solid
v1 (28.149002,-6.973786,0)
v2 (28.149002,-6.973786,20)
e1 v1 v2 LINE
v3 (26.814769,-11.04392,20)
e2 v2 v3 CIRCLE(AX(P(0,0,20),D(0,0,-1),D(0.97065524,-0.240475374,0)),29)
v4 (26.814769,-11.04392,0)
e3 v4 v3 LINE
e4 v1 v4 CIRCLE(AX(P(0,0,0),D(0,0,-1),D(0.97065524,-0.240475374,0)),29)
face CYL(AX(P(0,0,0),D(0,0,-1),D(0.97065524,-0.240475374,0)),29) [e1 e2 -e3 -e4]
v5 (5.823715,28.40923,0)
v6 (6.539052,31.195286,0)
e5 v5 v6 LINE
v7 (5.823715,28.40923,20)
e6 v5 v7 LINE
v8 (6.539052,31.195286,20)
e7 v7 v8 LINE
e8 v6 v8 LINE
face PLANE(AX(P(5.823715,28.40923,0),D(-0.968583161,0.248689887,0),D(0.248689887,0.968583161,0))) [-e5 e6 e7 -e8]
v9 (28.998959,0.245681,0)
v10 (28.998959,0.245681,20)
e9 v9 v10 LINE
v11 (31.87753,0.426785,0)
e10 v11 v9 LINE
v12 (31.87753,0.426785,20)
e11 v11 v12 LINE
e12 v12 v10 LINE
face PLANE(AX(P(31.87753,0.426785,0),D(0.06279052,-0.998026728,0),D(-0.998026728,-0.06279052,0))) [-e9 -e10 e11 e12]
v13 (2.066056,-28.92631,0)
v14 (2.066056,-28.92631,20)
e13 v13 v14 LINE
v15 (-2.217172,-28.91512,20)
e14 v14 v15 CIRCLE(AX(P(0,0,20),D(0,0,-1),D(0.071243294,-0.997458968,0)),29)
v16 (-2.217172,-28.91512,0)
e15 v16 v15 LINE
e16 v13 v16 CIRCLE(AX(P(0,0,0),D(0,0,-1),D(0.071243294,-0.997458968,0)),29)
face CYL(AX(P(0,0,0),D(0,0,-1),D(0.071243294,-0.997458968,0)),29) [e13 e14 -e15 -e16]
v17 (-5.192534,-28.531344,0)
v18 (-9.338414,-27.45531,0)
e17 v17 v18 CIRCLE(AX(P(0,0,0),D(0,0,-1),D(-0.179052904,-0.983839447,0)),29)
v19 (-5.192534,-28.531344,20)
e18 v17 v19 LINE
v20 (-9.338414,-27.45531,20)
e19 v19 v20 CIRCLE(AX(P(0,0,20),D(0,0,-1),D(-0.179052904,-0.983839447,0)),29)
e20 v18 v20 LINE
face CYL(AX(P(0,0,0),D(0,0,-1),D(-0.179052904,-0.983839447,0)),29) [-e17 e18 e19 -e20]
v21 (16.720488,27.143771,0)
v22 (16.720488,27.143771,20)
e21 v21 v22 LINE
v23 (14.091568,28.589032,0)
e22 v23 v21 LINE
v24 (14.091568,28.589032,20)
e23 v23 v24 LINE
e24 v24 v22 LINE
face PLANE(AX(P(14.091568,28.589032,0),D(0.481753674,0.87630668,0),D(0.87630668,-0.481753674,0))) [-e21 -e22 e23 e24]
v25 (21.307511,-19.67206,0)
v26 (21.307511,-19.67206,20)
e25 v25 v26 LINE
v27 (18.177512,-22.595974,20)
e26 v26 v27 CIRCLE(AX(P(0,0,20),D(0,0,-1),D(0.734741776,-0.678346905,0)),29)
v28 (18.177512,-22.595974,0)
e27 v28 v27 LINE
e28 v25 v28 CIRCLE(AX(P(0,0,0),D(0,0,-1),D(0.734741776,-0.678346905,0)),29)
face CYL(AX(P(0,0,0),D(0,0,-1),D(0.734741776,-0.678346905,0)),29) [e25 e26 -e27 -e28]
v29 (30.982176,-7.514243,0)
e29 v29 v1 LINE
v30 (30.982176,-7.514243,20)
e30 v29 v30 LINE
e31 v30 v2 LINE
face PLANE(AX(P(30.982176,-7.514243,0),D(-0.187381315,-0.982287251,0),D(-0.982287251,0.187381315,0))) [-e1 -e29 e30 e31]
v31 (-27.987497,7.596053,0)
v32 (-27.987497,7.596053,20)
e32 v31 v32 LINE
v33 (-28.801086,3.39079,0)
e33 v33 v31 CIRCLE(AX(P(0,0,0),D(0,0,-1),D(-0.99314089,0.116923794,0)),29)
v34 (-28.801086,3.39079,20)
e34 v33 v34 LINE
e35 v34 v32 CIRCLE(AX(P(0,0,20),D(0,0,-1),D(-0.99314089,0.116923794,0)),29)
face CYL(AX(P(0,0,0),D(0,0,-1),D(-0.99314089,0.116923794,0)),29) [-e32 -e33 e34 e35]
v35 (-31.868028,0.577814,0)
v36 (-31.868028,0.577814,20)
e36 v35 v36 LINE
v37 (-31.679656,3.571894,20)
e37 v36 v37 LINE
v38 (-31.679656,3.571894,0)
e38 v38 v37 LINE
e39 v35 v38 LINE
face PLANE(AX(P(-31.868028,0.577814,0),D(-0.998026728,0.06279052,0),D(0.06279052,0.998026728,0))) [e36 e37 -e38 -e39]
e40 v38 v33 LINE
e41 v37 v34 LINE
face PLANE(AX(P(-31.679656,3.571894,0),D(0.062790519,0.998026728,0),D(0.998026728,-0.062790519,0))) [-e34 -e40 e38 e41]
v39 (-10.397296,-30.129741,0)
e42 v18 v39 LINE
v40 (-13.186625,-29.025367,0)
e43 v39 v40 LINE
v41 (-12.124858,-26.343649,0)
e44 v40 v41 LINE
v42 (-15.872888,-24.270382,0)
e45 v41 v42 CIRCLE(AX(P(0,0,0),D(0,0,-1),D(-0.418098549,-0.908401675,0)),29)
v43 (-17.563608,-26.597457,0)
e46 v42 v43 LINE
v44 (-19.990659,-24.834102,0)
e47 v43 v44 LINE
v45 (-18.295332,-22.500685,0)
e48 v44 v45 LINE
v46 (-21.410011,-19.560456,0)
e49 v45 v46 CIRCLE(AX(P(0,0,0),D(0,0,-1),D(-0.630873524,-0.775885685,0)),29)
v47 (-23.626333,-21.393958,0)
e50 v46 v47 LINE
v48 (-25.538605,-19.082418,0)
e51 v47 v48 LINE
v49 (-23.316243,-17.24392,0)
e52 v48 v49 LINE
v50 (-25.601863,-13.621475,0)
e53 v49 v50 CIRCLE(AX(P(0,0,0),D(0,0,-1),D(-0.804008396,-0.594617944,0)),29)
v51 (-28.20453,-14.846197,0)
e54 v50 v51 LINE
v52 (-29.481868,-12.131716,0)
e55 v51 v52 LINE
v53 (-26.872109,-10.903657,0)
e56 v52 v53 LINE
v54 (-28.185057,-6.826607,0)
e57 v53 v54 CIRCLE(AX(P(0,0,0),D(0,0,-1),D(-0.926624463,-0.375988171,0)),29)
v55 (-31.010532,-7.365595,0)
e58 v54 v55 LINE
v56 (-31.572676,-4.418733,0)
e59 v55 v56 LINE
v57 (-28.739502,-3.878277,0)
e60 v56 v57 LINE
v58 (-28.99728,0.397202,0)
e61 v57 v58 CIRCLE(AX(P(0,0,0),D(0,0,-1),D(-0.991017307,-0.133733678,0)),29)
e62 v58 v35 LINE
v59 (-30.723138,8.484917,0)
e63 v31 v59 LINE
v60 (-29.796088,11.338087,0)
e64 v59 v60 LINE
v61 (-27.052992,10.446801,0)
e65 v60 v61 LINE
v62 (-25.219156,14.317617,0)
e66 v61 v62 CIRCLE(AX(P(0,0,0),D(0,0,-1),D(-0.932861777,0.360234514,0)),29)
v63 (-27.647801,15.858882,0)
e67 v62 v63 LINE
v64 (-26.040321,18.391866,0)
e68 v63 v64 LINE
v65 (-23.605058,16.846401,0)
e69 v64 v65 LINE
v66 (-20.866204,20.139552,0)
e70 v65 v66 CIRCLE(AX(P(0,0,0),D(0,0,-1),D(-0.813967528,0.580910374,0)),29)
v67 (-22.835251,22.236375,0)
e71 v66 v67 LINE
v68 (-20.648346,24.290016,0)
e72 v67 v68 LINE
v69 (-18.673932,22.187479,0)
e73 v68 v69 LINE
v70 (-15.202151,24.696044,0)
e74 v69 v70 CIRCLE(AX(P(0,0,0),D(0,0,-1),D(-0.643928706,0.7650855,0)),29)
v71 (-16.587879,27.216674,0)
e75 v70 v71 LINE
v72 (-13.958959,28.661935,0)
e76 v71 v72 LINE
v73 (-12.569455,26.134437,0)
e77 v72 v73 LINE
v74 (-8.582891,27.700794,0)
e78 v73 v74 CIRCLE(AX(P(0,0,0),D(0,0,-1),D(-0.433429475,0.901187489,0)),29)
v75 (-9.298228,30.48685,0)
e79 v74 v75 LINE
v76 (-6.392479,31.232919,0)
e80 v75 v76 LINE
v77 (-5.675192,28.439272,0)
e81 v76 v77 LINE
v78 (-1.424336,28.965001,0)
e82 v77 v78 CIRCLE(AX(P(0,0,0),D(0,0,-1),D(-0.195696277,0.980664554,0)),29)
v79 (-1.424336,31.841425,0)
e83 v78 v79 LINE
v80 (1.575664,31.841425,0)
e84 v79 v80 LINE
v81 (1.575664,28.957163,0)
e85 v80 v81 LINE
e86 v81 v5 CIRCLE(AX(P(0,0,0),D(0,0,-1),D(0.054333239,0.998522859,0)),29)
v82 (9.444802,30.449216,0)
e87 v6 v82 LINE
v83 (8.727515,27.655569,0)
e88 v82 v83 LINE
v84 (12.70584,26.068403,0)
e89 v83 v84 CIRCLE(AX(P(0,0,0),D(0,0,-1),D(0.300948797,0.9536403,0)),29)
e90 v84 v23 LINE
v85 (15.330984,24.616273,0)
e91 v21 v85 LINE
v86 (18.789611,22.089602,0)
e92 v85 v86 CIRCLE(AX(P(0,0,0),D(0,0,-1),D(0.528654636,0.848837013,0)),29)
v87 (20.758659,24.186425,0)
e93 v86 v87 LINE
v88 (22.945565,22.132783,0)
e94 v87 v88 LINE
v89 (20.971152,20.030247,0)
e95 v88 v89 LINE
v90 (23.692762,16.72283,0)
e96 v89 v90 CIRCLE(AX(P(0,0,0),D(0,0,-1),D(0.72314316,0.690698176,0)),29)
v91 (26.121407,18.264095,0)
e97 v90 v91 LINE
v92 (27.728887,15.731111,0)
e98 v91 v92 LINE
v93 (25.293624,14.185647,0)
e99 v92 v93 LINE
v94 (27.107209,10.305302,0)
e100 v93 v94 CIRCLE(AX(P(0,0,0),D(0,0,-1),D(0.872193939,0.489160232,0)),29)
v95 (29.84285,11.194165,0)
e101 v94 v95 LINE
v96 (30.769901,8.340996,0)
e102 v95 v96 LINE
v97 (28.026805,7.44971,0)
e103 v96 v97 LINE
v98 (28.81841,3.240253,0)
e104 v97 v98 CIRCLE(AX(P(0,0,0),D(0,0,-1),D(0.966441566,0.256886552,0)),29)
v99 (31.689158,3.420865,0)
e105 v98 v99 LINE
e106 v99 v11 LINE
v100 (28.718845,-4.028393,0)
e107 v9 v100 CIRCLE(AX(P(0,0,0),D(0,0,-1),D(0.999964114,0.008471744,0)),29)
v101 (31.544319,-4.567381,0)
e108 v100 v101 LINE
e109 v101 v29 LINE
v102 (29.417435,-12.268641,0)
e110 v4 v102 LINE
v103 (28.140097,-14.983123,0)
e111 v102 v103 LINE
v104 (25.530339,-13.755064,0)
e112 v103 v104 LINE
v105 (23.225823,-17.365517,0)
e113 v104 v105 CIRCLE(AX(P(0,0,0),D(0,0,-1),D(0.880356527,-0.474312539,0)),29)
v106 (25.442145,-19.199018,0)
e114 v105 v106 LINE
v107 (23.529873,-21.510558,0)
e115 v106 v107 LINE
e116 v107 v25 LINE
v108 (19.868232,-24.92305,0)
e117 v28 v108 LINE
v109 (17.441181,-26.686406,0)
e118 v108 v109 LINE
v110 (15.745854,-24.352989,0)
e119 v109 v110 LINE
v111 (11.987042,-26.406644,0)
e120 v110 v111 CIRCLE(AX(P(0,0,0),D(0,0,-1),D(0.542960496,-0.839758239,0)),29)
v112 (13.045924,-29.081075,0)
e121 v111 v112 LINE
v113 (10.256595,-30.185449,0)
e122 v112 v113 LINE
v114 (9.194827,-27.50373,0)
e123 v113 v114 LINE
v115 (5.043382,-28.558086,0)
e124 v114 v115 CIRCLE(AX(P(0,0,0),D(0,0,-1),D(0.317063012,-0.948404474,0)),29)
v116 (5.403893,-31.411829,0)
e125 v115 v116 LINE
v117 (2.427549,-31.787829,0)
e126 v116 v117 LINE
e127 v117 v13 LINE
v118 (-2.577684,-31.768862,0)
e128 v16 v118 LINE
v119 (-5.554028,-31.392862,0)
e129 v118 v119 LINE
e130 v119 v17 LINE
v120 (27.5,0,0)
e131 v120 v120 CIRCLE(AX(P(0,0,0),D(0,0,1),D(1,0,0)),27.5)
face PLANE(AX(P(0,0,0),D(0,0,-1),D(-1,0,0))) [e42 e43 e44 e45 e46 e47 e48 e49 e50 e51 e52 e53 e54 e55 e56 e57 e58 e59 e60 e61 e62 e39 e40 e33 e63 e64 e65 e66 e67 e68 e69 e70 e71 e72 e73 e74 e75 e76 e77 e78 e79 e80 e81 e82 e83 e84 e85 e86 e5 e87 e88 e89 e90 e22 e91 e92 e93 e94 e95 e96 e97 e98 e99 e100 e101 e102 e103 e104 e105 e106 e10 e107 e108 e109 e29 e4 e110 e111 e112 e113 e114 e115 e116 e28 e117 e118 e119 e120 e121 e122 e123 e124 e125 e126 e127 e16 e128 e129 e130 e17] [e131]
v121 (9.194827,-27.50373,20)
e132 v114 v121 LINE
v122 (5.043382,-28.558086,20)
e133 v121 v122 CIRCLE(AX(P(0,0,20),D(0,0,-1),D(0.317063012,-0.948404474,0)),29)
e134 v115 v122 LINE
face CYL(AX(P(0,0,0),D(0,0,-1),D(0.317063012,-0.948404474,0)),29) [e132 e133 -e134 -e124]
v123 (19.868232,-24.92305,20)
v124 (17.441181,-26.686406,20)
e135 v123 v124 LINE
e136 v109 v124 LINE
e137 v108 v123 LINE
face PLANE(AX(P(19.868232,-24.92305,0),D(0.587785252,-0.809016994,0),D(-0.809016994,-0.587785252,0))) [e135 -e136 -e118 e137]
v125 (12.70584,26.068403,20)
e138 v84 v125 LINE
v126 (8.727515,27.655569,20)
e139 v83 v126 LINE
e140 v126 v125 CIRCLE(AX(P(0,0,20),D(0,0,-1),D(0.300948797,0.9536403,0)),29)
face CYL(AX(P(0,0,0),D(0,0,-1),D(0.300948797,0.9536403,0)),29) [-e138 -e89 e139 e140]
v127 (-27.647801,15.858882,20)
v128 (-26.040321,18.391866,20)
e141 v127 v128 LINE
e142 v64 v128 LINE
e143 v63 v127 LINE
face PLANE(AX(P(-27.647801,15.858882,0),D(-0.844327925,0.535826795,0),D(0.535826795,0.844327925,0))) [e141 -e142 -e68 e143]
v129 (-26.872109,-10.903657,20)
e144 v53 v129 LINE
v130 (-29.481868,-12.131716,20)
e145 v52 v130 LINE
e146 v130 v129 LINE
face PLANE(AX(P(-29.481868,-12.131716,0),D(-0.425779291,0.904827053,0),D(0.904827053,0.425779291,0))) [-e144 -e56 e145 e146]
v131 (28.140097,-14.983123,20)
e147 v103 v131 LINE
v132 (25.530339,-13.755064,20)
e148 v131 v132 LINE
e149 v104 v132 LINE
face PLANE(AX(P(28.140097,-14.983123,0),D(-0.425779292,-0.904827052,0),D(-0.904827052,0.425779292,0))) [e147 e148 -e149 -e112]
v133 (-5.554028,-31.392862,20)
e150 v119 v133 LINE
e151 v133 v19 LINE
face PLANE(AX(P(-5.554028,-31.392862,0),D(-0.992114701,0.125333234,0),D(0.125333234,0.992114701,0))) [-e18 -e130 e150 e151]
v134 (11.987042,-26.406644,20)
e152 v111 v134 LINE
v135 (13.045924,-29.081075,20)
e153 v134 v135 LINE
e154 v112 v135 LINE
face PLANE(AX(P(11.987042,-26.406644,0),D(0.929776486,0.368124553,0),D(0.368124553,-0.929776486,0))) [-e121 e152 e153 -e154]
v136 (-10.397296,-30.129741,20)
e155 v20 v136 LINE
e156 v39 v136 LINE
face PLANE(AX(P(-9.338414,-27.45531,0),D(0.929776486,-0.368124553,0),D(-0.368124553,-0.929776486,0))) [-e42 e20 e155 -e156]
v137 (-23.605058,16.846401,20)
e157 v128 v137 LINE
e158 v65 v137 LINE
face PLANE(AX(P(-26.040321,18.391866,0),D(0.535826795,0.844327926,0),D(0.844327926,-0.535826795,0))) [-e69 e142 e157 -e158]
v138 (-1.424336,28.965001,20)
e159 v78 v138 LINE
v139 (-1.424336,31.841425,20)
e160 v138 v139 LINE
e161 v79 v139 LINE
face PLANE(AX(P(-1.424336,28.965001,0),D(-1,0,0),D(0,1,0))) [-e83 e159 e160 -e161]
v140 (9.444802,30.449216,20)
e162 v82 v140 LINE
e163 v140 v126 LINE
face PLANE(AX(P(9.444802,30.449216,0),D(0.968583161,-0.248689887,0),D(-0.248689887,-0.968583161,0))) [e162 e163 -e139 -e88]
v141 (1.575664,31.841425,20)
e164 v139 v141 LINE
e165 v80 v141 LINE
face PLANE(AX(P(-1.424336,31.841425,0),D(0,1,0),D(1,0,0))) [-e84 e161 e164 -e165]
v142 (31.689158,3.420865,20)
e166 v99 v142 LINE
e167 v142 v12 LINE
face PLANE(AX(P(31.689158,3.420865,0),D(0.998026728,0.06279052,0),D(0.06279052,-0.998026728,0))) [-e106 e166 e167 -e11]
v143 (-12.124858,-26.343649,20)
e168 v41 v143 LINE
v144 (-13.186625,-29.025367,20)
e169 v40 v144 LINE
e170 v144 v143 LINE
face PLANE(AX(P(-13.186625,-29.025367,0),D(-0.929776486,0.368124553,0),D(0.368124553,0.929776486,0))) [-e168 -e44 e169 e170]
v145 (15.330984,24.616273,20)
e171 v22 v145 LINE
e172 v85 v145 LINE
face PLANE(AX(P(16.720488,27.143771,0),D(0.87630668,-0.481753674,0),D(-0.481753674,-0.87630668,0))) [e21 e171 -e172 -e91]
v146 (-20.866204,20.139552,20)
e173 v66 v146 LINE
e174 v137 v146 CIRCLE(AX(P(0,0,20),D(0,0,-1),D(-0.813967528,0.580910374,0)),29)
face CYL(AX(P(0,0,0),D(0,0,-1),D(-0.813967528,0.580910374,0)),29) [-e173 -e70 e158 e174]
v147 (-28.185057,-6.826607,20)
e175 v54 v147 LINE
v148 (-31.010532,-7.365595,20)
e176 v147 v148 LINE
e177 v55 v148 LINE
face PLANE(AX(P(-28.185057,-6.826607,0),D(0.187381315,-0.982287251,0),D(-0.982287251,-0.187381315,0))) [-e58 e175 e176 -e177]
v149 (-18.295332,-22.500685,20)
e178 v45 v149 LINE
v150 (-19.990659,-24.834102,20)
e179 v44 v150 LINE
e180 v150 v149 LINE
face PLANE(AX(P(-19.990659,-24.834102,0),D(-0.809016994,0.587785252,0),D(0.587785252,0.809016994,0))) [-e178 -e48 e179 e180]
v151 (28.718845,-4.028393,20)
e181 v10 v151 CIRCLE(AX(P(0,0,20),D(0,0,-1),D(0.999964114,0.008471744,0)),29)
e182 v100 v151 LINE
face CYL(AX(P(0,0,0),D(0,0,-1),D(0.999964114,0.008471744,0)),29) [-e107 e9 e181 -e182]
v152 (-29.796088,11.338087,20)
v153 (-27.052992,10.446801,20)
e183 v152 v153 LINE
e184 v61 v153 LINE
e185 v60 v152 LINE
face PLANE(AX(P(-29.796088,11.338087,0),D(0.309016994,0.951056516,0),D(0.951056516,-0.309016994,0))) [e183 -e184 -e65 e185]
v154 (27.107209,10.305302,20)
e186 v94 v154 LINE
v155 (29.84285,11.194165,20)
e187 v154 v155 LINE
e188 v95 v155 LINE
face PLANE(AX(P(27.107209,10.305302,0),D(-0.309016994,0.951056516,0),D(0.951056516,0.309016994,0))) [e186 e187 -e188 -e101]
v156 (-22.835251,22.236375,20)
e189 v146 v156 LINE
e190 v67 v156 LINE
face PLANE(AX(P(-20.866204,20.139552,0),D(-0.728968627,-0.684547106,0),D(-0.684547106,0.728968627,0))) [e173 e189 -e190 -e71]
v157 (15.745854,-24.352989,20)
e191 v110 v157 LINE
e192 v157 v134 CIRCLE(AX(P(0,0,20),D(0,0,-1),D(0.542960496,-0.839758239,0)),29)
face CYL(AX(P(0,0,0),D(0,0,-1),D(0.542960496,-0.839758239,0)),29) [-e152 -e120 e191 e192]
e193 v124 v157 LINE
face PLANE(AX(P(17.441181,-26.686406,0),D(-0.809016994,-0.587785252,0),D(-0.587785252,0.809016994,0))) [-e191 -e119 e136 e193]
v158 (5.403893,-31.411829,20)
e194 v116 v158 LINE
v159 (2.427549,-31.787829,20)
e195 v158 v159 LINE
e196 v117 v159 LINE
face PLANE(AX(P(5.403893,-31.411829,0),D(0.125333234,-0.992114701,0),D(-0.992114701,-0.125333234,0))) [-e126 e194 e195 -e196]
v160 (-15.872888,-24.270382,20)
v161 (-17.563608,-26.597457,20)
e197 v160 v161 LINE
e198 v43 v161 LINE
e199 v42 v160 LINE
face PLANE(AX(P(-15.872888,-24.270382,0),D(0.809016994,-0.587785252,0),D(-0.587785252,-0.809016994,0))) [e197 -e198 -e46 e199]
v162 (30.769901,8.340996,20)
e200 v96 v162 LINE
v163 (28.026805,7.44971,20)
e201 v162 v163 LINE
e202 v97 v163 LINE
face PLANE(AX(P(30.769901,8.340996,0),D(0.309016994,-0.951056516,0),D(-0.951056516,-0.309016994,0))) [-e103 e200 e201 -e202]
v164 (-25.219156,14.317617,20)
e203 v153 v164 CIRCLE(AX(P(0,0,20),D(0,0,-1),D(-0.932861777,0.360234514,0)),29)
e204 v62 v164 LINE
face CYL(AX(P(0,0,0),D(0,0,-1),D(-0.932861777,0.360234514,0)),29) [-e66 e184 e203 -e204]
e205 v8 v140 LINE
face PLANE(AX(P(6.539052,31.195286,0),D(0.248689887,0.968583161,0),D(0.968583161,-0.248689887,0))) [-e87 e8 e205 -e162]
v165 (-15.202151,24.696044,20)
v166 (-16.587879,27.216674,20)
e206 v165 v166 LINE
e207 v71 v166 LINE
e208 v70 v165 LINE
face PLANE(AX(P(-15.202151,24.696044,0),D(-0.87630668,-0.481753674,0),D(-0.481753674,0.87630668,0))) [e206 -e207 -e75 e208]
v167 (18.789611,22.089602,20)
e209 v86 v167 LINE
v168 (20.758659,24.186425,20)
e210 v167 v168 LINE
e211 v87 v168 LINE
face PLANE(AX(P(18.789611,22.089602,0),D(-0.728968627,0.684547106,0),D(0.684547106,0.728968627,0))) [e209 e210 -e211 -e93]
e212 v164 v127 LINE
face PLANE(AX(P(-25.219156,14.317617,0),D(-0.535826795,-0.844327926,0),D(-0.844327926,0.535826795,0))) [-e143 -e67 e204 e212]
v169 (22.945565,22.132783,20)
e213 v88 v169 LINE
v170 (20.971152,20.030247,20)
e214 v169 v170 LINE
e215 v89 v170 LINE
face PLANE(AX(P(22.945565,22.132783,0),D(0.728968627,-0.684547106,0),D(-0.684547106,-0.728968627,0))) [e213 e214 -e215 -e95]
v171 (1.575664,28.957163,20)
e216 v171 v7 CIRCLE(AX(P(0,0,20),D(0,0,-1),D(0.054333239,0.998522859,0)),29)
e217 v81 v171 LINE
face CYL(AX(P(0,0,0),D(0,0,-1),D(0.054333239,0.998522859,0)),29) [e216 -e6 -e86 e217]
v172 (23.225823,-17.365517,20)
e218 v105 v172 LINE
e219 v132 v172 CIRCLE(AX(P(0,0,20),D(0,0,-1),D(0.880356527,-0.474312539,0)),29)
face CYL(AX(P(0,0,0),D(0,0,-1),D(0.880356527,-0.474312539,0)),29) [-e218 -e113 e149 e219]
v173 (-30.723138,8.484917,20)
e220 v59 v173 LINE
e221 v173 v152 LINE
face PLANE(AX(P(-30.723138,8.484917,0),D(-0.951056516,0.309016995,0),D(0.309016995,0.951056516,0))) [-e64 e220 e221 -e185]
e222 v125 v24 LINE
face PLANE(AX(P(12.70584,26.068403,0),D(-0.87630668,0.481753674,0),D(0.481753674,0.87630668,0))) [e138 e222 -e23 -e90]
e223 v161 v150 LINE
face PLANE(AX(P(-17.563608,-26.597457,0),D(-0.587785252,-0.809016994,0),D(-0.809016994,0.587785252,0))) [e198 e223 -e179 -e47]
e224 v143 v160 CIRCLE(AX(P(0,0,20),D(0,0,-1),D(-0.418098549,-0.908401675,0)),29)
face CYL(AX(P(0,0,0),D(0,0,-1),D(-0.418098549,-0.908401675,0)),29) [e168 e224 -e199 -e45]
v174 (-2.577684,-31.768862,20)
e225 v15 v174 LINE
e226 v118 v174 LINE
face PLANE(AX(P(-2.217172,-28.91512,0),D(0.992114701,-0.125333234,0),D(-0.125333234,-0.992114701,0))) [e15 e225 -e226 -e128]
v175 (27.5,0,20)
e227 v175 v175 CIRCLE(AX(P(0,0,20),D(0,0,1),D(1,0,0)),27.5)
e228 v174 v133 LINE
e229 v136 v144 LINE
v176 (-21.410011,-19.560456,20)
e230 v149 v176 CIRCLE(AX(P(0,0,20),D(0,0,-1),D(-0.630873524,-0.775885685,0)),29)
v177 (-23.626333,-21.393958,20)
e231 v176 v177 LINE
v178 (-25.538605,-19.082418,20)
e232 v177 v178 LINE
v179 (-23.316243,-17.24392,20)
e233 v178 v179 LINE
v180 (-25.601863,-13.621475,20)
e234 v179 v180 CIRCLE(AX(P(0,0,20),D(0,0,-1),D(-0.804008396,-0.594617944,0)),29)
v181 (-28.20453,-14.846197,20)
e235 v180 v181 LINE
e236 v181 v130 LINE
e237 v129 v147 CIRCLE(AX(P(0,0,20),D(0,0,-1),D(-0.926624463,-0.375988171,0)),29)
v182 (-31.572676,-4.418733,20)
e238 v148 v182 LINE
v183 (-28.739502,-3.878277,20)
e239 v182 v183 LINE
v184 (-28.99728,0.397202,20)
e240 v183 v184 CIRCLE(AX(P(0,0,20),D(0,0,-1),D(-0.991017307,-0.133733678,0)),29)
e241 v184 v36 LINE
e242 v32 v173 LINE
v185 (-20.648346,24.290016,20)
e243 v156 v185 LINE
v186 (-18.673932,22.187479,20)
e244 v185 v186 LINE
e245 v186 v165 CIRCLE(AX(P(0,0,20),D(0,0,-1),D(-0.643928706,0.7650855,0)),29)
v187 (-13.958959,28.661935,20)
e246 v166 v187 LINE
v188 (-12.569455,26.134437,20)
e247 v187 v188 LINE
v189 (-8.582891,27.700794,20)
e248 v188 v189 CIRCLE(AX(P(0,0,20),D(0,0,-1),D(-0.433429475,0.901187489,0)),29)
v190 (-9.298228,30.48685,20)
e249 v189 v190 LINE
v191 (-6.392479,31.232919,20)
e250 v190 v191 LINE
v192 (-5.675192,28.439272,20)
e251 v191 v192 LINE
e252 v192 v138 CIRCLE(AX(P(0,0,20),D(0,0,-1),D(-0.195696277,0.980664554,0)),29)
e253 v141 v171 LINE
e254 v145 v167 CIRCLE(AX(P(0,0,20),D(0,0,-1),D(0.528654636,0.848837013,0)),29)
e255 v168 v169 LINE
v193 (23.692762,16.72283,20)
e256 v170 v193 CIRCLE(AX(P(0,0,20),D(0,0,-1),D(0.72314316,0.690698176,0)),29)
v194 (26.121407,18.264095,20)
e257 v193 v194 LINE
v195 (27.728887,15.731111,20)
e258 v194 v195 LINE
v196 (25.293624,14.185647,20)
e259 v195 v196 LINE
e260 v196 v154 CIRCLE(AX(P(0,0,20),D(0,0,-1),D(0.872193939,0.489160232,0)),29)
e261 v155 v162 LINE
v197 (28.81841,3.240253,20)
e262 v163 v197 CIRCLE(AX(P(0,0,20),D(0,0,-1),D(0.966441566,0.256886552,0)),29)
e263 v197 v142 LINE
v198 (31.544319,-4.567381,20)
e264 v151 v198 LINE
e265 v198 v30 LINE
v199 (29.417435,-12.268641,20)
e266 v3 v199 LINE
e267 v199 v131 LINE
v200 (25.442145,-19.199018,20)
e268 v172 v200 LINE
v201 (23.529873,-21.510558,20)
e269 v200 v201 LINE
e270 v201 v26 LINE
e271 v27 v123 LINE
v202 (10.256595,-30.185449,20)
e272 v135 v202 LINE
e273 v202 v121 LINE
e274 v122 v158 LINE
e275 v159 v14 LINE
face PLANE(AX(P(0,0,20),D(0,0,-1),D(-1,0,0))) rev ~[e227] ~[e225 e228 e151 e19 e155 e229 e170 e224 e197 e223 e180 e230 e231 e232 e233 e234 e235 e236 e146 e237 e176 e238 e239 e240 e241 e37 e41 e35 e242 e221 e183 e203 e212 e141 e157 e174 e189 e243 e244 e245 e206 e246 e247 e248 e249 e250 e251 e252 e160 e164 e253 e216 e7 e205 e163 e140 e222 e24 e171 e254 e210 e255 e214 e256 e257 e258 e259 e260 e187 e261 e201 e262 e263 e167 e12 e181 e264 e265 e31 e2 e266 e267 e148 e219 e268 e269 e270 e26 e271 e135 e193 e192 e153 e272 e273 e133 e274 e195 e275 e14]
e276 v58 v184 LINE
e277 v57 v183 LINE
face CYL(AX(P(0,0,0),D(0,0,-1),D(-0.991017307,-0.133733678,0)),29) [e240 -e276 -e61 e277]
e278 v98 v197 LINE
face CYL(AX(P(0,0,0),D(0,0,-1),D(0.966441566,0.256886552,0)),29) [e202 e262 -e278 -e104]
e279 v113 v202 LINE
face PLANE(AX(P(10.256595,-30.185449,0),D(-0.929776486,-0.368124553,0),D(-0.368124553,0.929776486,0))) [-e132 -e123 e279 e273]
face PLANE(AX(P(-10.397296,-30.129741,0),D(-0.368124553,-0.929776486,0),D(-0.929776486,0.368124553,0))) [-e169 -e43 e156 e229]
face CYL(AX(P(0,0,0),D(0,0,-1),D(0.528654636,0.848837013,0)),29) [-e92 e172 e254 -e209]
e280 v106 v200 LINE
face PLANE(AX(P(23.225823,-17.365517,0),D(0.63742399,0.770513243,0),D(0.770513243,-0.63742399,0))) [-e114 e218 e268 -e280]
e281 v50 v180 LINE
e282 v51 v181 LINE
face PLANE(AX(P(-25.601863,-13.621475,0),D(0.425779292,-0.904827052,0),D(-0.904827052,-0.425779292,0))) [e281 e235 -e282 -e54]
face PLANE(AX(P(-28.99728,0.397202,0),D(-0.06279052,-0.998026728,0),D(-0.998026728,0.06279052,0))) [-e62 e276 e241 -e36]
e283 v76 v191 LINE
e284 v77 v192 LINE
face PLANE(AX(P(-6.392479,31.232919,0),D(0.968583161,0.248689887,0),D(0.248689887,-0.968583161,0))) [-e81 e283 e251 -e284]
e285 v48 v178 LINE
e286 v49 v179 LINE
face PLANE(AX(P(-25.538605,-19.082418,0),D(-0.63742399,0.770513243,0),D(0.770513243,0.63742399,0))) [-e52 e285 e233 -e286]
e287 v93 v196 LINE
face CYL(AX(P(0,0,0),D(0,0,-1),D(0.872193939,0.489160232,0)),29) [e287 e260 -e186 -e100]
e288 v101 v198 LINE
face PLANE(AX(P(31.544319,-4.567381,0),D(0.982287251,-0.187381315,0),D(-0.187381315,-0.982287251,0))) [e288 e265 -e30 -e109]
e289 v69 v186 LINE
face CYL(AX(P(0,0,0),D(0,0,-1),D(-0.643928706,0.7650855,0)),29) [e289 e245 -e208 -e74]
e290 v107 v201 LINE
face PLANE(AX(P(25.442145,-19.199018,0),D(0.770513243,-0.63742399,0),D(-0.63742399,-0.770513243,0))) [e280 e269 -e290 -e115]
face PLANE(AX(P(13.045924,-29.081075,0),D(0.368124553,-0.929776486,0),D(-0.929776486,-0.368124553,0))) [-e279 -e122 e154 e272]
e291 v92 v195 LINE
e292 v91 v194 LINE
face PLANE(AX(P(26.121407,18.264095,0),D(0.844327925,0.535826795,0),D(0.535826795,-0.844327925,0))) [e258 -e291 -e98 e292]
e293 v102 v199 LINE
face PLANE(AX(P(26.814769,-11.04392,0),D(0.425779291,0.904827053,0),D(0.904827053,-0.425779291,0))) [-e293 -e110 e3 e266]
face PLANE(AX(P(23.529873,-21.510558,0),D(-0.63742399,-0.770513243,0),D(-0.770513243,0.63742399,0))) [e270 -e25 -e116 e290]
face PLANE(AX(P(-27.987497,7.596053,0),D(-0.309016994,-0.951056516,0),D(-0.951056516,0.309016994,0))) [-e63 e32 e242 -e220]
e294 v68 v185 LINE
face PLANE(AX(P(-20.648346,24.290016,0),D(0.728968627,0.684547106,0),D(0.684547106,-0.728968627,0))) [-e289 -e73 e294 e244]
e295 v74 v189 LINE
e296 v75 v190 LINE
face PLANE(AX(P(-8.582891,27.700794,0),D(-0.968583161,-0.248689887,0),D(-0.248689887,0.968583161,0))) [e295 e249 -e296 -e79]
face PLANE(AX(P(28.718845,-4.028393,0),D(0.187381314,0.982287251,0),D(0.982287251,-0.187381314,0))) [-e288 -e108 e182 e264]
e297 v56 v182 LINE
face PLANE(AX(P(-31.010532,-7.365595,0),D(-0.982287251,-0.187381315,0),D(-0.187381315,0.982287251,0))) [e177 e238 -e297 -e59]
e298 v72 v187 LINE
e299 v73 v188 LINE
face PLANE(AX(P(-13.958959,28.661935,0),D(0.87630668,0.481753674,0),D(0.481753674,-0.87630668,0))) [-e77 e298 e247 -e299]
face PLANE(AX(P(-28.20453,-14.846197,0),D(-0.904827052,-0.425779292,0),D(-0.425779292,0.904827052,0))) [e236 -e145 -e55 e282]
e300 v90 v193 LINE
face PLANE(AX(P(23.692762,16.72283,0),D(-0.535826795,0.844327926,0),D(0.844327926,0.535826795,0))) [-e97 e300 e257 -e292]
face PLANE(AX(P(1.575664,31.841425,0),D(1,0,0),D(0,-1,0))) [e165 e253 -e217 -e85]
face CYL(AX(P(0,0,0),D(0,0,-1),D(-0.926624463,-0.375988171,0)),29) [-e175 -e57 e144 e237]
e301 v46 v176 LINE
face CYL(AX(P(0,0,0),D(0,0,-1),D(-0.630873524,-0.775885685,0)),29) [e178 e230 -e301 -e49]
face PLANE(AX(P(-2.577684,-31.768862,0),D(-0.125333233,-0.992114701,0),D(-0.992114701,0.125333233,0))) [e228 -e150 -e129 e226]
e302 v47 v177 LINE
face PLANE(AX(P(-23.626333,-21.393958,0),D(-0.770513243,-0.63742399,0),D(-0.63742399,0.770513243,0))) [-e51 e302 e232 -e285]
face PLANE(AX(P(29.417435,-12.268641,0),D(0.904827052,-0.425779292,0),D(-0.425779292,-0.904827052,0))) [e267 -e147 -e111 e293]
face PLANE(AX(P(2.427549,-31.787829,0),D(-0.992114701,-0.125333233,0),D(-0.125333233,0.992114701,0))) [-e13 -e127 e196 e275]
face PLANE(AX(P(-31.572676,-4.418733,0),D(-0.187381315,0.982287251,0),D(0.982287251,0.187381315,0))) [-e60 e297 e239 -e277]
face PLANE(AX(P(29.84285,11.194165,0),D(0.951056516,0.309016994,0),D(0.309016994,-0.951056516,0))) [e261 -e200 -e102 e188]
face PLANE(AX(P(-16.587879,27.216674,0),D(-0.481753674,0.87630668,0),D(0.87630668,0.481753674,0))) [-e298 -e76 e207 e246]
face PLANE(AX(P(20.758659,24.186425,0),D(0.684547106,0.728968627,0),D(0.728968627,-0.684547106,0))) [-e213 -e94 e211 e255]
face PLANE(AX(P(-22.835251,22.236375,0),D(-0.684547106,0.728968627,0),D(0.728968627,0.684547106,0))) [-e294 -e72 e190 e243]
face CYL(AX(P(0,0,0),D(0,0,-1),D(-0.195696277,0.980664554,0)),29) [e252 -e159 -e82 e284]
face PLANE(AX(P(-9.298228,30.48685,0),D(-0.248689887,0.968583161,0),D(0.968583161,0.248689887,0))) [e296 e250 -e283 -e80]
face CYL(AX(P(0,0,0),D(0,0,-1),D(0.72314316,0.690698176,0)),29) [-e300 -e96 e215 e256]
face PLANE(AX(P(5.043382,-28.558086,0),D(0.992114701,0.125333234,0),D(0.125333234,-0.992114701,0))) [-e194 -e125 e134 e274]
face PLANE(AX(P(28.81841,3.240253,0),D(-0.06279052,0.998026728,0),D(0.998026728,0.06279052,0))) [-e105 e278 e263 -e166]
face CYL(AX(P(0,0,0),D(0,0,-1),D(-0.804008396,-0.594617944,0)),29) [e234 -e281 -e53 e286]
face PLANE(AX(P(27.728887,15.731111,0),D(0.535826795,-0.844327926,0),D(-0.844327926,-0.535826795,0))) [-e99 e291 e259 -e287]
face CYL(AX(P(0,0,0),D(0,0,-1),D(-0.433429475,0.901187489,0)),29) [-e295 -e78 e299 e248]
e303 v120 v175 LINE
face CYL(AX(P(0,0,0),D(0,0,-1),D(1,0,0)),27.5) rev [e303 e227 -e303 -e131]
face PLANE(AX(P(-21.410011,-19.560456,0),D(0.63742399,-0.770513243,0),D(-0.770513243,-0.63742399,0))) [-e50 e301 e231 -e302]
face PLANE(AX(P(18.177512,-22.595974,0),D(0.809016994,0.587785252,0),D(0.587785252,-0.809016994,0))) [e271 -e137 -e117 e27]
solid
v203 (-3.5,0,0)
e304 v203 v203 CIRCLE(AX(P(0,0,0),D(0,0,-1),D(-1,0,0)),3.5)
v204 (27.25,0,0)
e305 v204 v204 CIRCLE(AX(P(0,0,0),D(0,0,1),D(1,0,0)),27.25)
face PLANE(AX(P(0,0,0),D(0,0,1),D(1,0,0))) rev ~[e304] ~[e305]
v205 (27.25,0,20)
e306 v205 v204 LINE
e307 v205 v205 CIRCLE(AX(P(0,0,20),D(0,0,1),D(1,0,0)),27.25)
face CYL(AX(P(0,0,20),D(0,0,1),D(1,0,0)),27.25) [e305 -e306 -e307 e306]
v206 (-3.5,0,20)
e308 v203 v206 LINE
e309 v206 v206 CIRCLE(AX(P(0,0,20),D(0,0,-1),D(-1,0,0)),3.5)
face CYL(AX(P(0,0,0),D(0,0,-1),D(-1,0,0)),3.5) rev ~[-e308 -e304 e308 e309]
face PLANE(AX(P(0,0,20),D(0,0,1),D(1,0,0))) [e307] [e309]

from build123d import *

# Parameters (mm, degrees)
SKETCH1_R           = 27.5
BOSS_EXTRUDE2_DEPTH = 20
SKETCH2_R           = 27.249999983
BOSS_EXTRUDE5_DEPTH = 20
SKETCH3_R           = 3.5
CUT_EXTRUDE3_DEPTH  = 21


with BuildPart() as part:
    # Sketch1 → Boss-Extrude2 (new body)
    with BuildSketch(Plane.XY):
        with BuildLine():
            Line((-1.424336069, 28.965000721), (-1.424336069, 31.841424695))
            Line((-1.424336069, 31.841424695), (1.575663931, 31.841424695))
            Line((1.575663931, 31.841424695), (1.575663931, 28.957162899))
            ThreePointArc((1.575663931, 28.957162899), (3.709819287, 28.76173223), (5.823714829, 28.409229937))
            Line((5.823714829, 28.409229937), (6.539052383, 31.195285762))
            Line((6.539052383, 31.195285762), (9.444801866, 30.449216101))
            Line((9.444801866, 30.449216101), (8.727515125, 27.655568693))
            ThreePointArc((8.727515125, 27.655568693), (10.746020435, 26.935534983), (12.705840306, 26.068402754))
            Line((12.705840306, 26.068402754), (14.091568124, 28.589032297))
            Line((14.091568124, 28.589032297), (16.720488164, 27.143771275))
            Line((16.720488164, 27.143771275), (15.330984447, 24.616273396))
            ThreePointArc((15.330984447, 24.616273396), (17.107009598, 23.416879011), (18.789611108, 22.089601953))
            Line((18.789611108, 22.089601953), (20.758658815, 24.186424789))
            Line((20.758658815, 24.186424789), (22.945564697, 22.132783471))
            Line((22.945564697, 22.132783471), (20.971151632, 20.030247109))
            ThreePointArc((20.971151632, 20.030247109), (22.393102433, 18.42685441), (23.69276154, 16.722830221))
            Line((23.69276154, 16.722830221), (26.121406627, 18.26409526))
            Line((26.121406627, 18.26409526), (27.728887012, 15.731111484))
            Line((27.728887012, 15.731111484), (25.293624233, 14.18564673))
            ThreePointArc((25.293624233, 14.18564673), (26.272154286, 12.279002776), (27.107208629, 10.305301565))
            Line((27.107208629, 10.305301565), (29.842850394, 11.194165456))
            Line((29.842850394, 11.194165456), (30.769901377, 8.340995907))
            Line((30.769901377, 8.340995907), (28.026805401, 7.449709996))
            ThreePointArc((28.026805401, 7.449709996), (28.500430063, 5.35961624), (28.818410107, 3.24025291))
            Line((28.818410107, 3.24025291), (31.689158115, 3.420865066))
            Line((31.689158115, 3.420865066), (31.877529674, 0.426784881))
            Line((31.877529674, 0.426784881), (28.99895931, 0.245680584))
            ThreePointArc((28.99895931, 0.245680584), (28.937919002, -1.896534697), (28.718844891, -4.028392751))
            Line((28.718844891, -4.028392751), (31.544319488, -4.567380856))
            Line((31.544319488, -4.567380856), (30.982175544, -7.514242609))
            Line((30.982175544, -7.514242609), (28.149001955, -6.973785842))
            ThreePointArc((28.149001955, -6.973785842), (27.557132063, -9.033519383), (26.814769029, -11.04391968))
            Line((26.814769029, -11.04391968), (29.417435256, -12.268641442))
            Line((29.417435256, -12.268641442), (28.140097381, -14.9831226))
            Line((28.140097381, -14.9831226), (25.530339282, -13.755063655))
            ThreePointArc((25.530339282, -13.755063655), (24.44482917, -15.602894824), (23.225822612, -17.365516519))
            Line((23.225822612, -17.365516519), (25.442145376, -19.199018165))
            Line((25.442145376, -19.199018165), (23.529873407, -21.510557894))
            Line((23.529873407, -21.510557894), (21.307511498, -19.672060232))
            ThreePointArc((21.307511498, -19.672060232), (19.796567757, -21.191882999), (18.177512342, -22.59597409))
            Line((18.177512342, -22.59597409), (19.868231933, -24.923049968))
            Line((19.868231933, -24.923049968), (17.44118095, -26.686405725))
            Line((17.44118095, -26.686405725), (15.745854403, -24.352988916))
            ThreePointArc((15.745854403, -24.352988916), (13.904415186, -25.449307227), (11.987042119, -26.406643506))
            Line((11.987042119, -26.406643506), (13.045924408, -29.081074881))
            Line((13.045924408, -29.081074881), (10.25659495, -30.185448539))
            Line((10.25659495, -30.185448539), (9.194827367, -27.503729742))
            ThreePointArc((9.194827367, -27.503729742), (7.138597072, -28.107657886), (5.043381954, -28.558086394))
            Line((5.043381954, -28.558086394), (5.403893472, -31.411828906))
            Line((5.403893472, -31.411828906), (2.427549368, -31.787828607))
            Line((2.427549368, -31.787828607), (2.066055511, -28.926310076))
            ThreePointArc((2.066055511, -28.926310076), (-0.07576535, -28.999901028), (-2.217172447, -28.915119684))
            Line((-2.217172447, -28.915119684), (-2.577683965, -31.768862196))
            Line((-2.577683965, -31.768862196), (-5.554028069, -31.392862496))
            Line((-5.554028069, -31.392862496), (-5.192534211, -28.531343965))
            ThreePointArc((-5.192534211, -28.531343965), (-7.285367157, -28.069973733), (-9.338413749, -27.455309662))
            Line((-9.338413749, -27.455309662), (-10.397296038, -30.129741037))
            Line((-10.397296038, -30.129741037), (-13.186625496, -29.025367379))
            Line((-13.186625496, -29.025367379), (-12.124857912, -26.343648582))
            ThreePointArc((-12.124857912, -26.343648582), (-14.037202551, -25.376306755), (-15.872888171, -24.270381561))
            Line((-15.872888171, -24.270381561), (-17.563607762, -26.597457439))
            Line((-17.563607762, -26.597457439), (-19.990658746, -24.834101682))
            Line((-19.990658746, -24.834101682), (-18.295332198, -22.500684873))
            ThreePointArc((-18.295332198, -22.500684873), (-19.907028884, -21.088153096), (-21.410010653, -19.560456126))
            Line((-21.410010653, -19.560456126), (-23.626333417, -21.393957772))
            Line((-23.626333417, -21.393957772), (-25.538605386, -19.082418044))
            Line((-25.538605386, -19.082418044), (-23.316243477, -17.243920382))
            ThreePointArc((-23.316243477, -17.243920382), (-24.526023379, -15.474953221), (-25.601863425, -13.621475294))
            Line((-25.601863425, -13.621475294), (-28.204529651, -14.846197056))
            Line((-28.204529651, -14.846197056), (-29.481867526, -12.131715899))
            Line((-29.481867526, -12.131715899), (-26.872109426, -10.903656955))
            ThreePointArc((-26.872109426, -10.903656955), (-27.603957625, -8.889405122), (-28.185056961, -6.826607073))
            Line((-28.185056961, -6.826607073), (-31.010531558, -7.365595179))
            Line((-31.010531558, -7.365595179), (-31.572675502, -4.418733427))
            Line((-31.572675502, -4.418733427), (-28.739501912, -3.87827666))
            ThreePointArc((-28.739501912, -3.87827666), (-28.947433693, -1.745303007), (-28.99727971, 0.397201976))
            Line((-28.99727971, 0.397201976), (-31.868027719, 0.577814132))
            Line((-31.868027719, 0.577814132), (-31.67965616, 3.571894317))
            Line((-31.67965616, 3.571894317), (-28.801085796, 3.390790021))
            ThreePointArc((-28.801085796, 3.390790021), (-28.472036041, 5.508462915), (-27.987496731, 7.596053365))
            Line((-27.987496731, 7.596053365), (-30.723138496, 8.484917256))
            Line((-30.723138496, 8.484917256), (-29.796087512, 11.338086805))
            Line((-29.796087512, 11.338086805), (-27.052991537, 10.446800894))
            ThreePointArc((-27.052991537, 10.446800894), (-26.207635651, 12.416111854), (-25.219156402, 14.317616785))
            Line((-25.219156402, 14.317616785), (-27.647801489, 15.858881824))
            Line((-27.647801489, 15.858881824), (-26.040321104, 18.3918656))
            Line((-26.040321104, 18.3918656), (-23.605058325, 16.846400846))
            ThreePointArc((-23.605058325, 16.846400846), (-22.296513129, 18.543610821), (-20.866203726, 20.139551685))
            Line((-20.866203726, 20.139551685), (-22.835251433, 22.236374521))
            Line((-22.835251433, 22.236374521), (-20.648345551, 24.290015839))
            Line((-20.648345551, 24.290015839), (-18.673932486, 22.187479477))
            ThreePointArc((-18.673932486, 22.187479477), (-16.984418686, 23.505946522), (-15.20215073, 24.696044485))
            Line((-15.20215073, 24.696044485), (-16.587878547, 27.216674028))
            Line((-16.587878547, 27.216674028), (-13.958958507, 28.661935051))
            Line((-13.958958507, 28.661935051), (-12.56945479, 26.134437172))
            ThreePointArc((-12.56945479, 26.134437172), (-10.605130752, 26.991317154), (-8.582890693, 27.700793984))
            Line((-8.582890693, 27.700793984), (-9.298228247, 30.48684981))
            Line((-9.298228247, 30.48684981), (-6.392478763, 31.232919471))
            Line((-6.392478763, 31.232919471), (-5.675192023, 28.439272064))
            ThreePointArc((-5.675192023, 28.439272064), (-3.559483451, 28.780724063), (-1.424336069, 28.965000721))
        make_face()
        Circle(SKETCH1_R, mode=Mode.SUBTRACT)
    extrude(amount=BOSS_EXTRUDE2_DEPTH)


with BuildPart() as body_2:
    # Sketch2 → Boss-Extrude5 (new body)
    with BuildSketch(Plane.XY.offset(20)):
        Circle(SKETCH2_R)
    extrude(amount=-BOSS_EXTRUDE5_DEPTH)

    # Sketch3 → Cut-Extrude3 (cut, through all)
    with BuildSketch(Plane(origin=(0, 0, 0), x_dir=(-1, 0, 0), z_dir=(0, 0, -1))):
        Circle(SKETCH3_R)
    extrude(amount=-CUT_EXTRUDE3_DEPTH, mode=Mode.SUBTRACT)


solid = Compound([part.part, body_2.part])
